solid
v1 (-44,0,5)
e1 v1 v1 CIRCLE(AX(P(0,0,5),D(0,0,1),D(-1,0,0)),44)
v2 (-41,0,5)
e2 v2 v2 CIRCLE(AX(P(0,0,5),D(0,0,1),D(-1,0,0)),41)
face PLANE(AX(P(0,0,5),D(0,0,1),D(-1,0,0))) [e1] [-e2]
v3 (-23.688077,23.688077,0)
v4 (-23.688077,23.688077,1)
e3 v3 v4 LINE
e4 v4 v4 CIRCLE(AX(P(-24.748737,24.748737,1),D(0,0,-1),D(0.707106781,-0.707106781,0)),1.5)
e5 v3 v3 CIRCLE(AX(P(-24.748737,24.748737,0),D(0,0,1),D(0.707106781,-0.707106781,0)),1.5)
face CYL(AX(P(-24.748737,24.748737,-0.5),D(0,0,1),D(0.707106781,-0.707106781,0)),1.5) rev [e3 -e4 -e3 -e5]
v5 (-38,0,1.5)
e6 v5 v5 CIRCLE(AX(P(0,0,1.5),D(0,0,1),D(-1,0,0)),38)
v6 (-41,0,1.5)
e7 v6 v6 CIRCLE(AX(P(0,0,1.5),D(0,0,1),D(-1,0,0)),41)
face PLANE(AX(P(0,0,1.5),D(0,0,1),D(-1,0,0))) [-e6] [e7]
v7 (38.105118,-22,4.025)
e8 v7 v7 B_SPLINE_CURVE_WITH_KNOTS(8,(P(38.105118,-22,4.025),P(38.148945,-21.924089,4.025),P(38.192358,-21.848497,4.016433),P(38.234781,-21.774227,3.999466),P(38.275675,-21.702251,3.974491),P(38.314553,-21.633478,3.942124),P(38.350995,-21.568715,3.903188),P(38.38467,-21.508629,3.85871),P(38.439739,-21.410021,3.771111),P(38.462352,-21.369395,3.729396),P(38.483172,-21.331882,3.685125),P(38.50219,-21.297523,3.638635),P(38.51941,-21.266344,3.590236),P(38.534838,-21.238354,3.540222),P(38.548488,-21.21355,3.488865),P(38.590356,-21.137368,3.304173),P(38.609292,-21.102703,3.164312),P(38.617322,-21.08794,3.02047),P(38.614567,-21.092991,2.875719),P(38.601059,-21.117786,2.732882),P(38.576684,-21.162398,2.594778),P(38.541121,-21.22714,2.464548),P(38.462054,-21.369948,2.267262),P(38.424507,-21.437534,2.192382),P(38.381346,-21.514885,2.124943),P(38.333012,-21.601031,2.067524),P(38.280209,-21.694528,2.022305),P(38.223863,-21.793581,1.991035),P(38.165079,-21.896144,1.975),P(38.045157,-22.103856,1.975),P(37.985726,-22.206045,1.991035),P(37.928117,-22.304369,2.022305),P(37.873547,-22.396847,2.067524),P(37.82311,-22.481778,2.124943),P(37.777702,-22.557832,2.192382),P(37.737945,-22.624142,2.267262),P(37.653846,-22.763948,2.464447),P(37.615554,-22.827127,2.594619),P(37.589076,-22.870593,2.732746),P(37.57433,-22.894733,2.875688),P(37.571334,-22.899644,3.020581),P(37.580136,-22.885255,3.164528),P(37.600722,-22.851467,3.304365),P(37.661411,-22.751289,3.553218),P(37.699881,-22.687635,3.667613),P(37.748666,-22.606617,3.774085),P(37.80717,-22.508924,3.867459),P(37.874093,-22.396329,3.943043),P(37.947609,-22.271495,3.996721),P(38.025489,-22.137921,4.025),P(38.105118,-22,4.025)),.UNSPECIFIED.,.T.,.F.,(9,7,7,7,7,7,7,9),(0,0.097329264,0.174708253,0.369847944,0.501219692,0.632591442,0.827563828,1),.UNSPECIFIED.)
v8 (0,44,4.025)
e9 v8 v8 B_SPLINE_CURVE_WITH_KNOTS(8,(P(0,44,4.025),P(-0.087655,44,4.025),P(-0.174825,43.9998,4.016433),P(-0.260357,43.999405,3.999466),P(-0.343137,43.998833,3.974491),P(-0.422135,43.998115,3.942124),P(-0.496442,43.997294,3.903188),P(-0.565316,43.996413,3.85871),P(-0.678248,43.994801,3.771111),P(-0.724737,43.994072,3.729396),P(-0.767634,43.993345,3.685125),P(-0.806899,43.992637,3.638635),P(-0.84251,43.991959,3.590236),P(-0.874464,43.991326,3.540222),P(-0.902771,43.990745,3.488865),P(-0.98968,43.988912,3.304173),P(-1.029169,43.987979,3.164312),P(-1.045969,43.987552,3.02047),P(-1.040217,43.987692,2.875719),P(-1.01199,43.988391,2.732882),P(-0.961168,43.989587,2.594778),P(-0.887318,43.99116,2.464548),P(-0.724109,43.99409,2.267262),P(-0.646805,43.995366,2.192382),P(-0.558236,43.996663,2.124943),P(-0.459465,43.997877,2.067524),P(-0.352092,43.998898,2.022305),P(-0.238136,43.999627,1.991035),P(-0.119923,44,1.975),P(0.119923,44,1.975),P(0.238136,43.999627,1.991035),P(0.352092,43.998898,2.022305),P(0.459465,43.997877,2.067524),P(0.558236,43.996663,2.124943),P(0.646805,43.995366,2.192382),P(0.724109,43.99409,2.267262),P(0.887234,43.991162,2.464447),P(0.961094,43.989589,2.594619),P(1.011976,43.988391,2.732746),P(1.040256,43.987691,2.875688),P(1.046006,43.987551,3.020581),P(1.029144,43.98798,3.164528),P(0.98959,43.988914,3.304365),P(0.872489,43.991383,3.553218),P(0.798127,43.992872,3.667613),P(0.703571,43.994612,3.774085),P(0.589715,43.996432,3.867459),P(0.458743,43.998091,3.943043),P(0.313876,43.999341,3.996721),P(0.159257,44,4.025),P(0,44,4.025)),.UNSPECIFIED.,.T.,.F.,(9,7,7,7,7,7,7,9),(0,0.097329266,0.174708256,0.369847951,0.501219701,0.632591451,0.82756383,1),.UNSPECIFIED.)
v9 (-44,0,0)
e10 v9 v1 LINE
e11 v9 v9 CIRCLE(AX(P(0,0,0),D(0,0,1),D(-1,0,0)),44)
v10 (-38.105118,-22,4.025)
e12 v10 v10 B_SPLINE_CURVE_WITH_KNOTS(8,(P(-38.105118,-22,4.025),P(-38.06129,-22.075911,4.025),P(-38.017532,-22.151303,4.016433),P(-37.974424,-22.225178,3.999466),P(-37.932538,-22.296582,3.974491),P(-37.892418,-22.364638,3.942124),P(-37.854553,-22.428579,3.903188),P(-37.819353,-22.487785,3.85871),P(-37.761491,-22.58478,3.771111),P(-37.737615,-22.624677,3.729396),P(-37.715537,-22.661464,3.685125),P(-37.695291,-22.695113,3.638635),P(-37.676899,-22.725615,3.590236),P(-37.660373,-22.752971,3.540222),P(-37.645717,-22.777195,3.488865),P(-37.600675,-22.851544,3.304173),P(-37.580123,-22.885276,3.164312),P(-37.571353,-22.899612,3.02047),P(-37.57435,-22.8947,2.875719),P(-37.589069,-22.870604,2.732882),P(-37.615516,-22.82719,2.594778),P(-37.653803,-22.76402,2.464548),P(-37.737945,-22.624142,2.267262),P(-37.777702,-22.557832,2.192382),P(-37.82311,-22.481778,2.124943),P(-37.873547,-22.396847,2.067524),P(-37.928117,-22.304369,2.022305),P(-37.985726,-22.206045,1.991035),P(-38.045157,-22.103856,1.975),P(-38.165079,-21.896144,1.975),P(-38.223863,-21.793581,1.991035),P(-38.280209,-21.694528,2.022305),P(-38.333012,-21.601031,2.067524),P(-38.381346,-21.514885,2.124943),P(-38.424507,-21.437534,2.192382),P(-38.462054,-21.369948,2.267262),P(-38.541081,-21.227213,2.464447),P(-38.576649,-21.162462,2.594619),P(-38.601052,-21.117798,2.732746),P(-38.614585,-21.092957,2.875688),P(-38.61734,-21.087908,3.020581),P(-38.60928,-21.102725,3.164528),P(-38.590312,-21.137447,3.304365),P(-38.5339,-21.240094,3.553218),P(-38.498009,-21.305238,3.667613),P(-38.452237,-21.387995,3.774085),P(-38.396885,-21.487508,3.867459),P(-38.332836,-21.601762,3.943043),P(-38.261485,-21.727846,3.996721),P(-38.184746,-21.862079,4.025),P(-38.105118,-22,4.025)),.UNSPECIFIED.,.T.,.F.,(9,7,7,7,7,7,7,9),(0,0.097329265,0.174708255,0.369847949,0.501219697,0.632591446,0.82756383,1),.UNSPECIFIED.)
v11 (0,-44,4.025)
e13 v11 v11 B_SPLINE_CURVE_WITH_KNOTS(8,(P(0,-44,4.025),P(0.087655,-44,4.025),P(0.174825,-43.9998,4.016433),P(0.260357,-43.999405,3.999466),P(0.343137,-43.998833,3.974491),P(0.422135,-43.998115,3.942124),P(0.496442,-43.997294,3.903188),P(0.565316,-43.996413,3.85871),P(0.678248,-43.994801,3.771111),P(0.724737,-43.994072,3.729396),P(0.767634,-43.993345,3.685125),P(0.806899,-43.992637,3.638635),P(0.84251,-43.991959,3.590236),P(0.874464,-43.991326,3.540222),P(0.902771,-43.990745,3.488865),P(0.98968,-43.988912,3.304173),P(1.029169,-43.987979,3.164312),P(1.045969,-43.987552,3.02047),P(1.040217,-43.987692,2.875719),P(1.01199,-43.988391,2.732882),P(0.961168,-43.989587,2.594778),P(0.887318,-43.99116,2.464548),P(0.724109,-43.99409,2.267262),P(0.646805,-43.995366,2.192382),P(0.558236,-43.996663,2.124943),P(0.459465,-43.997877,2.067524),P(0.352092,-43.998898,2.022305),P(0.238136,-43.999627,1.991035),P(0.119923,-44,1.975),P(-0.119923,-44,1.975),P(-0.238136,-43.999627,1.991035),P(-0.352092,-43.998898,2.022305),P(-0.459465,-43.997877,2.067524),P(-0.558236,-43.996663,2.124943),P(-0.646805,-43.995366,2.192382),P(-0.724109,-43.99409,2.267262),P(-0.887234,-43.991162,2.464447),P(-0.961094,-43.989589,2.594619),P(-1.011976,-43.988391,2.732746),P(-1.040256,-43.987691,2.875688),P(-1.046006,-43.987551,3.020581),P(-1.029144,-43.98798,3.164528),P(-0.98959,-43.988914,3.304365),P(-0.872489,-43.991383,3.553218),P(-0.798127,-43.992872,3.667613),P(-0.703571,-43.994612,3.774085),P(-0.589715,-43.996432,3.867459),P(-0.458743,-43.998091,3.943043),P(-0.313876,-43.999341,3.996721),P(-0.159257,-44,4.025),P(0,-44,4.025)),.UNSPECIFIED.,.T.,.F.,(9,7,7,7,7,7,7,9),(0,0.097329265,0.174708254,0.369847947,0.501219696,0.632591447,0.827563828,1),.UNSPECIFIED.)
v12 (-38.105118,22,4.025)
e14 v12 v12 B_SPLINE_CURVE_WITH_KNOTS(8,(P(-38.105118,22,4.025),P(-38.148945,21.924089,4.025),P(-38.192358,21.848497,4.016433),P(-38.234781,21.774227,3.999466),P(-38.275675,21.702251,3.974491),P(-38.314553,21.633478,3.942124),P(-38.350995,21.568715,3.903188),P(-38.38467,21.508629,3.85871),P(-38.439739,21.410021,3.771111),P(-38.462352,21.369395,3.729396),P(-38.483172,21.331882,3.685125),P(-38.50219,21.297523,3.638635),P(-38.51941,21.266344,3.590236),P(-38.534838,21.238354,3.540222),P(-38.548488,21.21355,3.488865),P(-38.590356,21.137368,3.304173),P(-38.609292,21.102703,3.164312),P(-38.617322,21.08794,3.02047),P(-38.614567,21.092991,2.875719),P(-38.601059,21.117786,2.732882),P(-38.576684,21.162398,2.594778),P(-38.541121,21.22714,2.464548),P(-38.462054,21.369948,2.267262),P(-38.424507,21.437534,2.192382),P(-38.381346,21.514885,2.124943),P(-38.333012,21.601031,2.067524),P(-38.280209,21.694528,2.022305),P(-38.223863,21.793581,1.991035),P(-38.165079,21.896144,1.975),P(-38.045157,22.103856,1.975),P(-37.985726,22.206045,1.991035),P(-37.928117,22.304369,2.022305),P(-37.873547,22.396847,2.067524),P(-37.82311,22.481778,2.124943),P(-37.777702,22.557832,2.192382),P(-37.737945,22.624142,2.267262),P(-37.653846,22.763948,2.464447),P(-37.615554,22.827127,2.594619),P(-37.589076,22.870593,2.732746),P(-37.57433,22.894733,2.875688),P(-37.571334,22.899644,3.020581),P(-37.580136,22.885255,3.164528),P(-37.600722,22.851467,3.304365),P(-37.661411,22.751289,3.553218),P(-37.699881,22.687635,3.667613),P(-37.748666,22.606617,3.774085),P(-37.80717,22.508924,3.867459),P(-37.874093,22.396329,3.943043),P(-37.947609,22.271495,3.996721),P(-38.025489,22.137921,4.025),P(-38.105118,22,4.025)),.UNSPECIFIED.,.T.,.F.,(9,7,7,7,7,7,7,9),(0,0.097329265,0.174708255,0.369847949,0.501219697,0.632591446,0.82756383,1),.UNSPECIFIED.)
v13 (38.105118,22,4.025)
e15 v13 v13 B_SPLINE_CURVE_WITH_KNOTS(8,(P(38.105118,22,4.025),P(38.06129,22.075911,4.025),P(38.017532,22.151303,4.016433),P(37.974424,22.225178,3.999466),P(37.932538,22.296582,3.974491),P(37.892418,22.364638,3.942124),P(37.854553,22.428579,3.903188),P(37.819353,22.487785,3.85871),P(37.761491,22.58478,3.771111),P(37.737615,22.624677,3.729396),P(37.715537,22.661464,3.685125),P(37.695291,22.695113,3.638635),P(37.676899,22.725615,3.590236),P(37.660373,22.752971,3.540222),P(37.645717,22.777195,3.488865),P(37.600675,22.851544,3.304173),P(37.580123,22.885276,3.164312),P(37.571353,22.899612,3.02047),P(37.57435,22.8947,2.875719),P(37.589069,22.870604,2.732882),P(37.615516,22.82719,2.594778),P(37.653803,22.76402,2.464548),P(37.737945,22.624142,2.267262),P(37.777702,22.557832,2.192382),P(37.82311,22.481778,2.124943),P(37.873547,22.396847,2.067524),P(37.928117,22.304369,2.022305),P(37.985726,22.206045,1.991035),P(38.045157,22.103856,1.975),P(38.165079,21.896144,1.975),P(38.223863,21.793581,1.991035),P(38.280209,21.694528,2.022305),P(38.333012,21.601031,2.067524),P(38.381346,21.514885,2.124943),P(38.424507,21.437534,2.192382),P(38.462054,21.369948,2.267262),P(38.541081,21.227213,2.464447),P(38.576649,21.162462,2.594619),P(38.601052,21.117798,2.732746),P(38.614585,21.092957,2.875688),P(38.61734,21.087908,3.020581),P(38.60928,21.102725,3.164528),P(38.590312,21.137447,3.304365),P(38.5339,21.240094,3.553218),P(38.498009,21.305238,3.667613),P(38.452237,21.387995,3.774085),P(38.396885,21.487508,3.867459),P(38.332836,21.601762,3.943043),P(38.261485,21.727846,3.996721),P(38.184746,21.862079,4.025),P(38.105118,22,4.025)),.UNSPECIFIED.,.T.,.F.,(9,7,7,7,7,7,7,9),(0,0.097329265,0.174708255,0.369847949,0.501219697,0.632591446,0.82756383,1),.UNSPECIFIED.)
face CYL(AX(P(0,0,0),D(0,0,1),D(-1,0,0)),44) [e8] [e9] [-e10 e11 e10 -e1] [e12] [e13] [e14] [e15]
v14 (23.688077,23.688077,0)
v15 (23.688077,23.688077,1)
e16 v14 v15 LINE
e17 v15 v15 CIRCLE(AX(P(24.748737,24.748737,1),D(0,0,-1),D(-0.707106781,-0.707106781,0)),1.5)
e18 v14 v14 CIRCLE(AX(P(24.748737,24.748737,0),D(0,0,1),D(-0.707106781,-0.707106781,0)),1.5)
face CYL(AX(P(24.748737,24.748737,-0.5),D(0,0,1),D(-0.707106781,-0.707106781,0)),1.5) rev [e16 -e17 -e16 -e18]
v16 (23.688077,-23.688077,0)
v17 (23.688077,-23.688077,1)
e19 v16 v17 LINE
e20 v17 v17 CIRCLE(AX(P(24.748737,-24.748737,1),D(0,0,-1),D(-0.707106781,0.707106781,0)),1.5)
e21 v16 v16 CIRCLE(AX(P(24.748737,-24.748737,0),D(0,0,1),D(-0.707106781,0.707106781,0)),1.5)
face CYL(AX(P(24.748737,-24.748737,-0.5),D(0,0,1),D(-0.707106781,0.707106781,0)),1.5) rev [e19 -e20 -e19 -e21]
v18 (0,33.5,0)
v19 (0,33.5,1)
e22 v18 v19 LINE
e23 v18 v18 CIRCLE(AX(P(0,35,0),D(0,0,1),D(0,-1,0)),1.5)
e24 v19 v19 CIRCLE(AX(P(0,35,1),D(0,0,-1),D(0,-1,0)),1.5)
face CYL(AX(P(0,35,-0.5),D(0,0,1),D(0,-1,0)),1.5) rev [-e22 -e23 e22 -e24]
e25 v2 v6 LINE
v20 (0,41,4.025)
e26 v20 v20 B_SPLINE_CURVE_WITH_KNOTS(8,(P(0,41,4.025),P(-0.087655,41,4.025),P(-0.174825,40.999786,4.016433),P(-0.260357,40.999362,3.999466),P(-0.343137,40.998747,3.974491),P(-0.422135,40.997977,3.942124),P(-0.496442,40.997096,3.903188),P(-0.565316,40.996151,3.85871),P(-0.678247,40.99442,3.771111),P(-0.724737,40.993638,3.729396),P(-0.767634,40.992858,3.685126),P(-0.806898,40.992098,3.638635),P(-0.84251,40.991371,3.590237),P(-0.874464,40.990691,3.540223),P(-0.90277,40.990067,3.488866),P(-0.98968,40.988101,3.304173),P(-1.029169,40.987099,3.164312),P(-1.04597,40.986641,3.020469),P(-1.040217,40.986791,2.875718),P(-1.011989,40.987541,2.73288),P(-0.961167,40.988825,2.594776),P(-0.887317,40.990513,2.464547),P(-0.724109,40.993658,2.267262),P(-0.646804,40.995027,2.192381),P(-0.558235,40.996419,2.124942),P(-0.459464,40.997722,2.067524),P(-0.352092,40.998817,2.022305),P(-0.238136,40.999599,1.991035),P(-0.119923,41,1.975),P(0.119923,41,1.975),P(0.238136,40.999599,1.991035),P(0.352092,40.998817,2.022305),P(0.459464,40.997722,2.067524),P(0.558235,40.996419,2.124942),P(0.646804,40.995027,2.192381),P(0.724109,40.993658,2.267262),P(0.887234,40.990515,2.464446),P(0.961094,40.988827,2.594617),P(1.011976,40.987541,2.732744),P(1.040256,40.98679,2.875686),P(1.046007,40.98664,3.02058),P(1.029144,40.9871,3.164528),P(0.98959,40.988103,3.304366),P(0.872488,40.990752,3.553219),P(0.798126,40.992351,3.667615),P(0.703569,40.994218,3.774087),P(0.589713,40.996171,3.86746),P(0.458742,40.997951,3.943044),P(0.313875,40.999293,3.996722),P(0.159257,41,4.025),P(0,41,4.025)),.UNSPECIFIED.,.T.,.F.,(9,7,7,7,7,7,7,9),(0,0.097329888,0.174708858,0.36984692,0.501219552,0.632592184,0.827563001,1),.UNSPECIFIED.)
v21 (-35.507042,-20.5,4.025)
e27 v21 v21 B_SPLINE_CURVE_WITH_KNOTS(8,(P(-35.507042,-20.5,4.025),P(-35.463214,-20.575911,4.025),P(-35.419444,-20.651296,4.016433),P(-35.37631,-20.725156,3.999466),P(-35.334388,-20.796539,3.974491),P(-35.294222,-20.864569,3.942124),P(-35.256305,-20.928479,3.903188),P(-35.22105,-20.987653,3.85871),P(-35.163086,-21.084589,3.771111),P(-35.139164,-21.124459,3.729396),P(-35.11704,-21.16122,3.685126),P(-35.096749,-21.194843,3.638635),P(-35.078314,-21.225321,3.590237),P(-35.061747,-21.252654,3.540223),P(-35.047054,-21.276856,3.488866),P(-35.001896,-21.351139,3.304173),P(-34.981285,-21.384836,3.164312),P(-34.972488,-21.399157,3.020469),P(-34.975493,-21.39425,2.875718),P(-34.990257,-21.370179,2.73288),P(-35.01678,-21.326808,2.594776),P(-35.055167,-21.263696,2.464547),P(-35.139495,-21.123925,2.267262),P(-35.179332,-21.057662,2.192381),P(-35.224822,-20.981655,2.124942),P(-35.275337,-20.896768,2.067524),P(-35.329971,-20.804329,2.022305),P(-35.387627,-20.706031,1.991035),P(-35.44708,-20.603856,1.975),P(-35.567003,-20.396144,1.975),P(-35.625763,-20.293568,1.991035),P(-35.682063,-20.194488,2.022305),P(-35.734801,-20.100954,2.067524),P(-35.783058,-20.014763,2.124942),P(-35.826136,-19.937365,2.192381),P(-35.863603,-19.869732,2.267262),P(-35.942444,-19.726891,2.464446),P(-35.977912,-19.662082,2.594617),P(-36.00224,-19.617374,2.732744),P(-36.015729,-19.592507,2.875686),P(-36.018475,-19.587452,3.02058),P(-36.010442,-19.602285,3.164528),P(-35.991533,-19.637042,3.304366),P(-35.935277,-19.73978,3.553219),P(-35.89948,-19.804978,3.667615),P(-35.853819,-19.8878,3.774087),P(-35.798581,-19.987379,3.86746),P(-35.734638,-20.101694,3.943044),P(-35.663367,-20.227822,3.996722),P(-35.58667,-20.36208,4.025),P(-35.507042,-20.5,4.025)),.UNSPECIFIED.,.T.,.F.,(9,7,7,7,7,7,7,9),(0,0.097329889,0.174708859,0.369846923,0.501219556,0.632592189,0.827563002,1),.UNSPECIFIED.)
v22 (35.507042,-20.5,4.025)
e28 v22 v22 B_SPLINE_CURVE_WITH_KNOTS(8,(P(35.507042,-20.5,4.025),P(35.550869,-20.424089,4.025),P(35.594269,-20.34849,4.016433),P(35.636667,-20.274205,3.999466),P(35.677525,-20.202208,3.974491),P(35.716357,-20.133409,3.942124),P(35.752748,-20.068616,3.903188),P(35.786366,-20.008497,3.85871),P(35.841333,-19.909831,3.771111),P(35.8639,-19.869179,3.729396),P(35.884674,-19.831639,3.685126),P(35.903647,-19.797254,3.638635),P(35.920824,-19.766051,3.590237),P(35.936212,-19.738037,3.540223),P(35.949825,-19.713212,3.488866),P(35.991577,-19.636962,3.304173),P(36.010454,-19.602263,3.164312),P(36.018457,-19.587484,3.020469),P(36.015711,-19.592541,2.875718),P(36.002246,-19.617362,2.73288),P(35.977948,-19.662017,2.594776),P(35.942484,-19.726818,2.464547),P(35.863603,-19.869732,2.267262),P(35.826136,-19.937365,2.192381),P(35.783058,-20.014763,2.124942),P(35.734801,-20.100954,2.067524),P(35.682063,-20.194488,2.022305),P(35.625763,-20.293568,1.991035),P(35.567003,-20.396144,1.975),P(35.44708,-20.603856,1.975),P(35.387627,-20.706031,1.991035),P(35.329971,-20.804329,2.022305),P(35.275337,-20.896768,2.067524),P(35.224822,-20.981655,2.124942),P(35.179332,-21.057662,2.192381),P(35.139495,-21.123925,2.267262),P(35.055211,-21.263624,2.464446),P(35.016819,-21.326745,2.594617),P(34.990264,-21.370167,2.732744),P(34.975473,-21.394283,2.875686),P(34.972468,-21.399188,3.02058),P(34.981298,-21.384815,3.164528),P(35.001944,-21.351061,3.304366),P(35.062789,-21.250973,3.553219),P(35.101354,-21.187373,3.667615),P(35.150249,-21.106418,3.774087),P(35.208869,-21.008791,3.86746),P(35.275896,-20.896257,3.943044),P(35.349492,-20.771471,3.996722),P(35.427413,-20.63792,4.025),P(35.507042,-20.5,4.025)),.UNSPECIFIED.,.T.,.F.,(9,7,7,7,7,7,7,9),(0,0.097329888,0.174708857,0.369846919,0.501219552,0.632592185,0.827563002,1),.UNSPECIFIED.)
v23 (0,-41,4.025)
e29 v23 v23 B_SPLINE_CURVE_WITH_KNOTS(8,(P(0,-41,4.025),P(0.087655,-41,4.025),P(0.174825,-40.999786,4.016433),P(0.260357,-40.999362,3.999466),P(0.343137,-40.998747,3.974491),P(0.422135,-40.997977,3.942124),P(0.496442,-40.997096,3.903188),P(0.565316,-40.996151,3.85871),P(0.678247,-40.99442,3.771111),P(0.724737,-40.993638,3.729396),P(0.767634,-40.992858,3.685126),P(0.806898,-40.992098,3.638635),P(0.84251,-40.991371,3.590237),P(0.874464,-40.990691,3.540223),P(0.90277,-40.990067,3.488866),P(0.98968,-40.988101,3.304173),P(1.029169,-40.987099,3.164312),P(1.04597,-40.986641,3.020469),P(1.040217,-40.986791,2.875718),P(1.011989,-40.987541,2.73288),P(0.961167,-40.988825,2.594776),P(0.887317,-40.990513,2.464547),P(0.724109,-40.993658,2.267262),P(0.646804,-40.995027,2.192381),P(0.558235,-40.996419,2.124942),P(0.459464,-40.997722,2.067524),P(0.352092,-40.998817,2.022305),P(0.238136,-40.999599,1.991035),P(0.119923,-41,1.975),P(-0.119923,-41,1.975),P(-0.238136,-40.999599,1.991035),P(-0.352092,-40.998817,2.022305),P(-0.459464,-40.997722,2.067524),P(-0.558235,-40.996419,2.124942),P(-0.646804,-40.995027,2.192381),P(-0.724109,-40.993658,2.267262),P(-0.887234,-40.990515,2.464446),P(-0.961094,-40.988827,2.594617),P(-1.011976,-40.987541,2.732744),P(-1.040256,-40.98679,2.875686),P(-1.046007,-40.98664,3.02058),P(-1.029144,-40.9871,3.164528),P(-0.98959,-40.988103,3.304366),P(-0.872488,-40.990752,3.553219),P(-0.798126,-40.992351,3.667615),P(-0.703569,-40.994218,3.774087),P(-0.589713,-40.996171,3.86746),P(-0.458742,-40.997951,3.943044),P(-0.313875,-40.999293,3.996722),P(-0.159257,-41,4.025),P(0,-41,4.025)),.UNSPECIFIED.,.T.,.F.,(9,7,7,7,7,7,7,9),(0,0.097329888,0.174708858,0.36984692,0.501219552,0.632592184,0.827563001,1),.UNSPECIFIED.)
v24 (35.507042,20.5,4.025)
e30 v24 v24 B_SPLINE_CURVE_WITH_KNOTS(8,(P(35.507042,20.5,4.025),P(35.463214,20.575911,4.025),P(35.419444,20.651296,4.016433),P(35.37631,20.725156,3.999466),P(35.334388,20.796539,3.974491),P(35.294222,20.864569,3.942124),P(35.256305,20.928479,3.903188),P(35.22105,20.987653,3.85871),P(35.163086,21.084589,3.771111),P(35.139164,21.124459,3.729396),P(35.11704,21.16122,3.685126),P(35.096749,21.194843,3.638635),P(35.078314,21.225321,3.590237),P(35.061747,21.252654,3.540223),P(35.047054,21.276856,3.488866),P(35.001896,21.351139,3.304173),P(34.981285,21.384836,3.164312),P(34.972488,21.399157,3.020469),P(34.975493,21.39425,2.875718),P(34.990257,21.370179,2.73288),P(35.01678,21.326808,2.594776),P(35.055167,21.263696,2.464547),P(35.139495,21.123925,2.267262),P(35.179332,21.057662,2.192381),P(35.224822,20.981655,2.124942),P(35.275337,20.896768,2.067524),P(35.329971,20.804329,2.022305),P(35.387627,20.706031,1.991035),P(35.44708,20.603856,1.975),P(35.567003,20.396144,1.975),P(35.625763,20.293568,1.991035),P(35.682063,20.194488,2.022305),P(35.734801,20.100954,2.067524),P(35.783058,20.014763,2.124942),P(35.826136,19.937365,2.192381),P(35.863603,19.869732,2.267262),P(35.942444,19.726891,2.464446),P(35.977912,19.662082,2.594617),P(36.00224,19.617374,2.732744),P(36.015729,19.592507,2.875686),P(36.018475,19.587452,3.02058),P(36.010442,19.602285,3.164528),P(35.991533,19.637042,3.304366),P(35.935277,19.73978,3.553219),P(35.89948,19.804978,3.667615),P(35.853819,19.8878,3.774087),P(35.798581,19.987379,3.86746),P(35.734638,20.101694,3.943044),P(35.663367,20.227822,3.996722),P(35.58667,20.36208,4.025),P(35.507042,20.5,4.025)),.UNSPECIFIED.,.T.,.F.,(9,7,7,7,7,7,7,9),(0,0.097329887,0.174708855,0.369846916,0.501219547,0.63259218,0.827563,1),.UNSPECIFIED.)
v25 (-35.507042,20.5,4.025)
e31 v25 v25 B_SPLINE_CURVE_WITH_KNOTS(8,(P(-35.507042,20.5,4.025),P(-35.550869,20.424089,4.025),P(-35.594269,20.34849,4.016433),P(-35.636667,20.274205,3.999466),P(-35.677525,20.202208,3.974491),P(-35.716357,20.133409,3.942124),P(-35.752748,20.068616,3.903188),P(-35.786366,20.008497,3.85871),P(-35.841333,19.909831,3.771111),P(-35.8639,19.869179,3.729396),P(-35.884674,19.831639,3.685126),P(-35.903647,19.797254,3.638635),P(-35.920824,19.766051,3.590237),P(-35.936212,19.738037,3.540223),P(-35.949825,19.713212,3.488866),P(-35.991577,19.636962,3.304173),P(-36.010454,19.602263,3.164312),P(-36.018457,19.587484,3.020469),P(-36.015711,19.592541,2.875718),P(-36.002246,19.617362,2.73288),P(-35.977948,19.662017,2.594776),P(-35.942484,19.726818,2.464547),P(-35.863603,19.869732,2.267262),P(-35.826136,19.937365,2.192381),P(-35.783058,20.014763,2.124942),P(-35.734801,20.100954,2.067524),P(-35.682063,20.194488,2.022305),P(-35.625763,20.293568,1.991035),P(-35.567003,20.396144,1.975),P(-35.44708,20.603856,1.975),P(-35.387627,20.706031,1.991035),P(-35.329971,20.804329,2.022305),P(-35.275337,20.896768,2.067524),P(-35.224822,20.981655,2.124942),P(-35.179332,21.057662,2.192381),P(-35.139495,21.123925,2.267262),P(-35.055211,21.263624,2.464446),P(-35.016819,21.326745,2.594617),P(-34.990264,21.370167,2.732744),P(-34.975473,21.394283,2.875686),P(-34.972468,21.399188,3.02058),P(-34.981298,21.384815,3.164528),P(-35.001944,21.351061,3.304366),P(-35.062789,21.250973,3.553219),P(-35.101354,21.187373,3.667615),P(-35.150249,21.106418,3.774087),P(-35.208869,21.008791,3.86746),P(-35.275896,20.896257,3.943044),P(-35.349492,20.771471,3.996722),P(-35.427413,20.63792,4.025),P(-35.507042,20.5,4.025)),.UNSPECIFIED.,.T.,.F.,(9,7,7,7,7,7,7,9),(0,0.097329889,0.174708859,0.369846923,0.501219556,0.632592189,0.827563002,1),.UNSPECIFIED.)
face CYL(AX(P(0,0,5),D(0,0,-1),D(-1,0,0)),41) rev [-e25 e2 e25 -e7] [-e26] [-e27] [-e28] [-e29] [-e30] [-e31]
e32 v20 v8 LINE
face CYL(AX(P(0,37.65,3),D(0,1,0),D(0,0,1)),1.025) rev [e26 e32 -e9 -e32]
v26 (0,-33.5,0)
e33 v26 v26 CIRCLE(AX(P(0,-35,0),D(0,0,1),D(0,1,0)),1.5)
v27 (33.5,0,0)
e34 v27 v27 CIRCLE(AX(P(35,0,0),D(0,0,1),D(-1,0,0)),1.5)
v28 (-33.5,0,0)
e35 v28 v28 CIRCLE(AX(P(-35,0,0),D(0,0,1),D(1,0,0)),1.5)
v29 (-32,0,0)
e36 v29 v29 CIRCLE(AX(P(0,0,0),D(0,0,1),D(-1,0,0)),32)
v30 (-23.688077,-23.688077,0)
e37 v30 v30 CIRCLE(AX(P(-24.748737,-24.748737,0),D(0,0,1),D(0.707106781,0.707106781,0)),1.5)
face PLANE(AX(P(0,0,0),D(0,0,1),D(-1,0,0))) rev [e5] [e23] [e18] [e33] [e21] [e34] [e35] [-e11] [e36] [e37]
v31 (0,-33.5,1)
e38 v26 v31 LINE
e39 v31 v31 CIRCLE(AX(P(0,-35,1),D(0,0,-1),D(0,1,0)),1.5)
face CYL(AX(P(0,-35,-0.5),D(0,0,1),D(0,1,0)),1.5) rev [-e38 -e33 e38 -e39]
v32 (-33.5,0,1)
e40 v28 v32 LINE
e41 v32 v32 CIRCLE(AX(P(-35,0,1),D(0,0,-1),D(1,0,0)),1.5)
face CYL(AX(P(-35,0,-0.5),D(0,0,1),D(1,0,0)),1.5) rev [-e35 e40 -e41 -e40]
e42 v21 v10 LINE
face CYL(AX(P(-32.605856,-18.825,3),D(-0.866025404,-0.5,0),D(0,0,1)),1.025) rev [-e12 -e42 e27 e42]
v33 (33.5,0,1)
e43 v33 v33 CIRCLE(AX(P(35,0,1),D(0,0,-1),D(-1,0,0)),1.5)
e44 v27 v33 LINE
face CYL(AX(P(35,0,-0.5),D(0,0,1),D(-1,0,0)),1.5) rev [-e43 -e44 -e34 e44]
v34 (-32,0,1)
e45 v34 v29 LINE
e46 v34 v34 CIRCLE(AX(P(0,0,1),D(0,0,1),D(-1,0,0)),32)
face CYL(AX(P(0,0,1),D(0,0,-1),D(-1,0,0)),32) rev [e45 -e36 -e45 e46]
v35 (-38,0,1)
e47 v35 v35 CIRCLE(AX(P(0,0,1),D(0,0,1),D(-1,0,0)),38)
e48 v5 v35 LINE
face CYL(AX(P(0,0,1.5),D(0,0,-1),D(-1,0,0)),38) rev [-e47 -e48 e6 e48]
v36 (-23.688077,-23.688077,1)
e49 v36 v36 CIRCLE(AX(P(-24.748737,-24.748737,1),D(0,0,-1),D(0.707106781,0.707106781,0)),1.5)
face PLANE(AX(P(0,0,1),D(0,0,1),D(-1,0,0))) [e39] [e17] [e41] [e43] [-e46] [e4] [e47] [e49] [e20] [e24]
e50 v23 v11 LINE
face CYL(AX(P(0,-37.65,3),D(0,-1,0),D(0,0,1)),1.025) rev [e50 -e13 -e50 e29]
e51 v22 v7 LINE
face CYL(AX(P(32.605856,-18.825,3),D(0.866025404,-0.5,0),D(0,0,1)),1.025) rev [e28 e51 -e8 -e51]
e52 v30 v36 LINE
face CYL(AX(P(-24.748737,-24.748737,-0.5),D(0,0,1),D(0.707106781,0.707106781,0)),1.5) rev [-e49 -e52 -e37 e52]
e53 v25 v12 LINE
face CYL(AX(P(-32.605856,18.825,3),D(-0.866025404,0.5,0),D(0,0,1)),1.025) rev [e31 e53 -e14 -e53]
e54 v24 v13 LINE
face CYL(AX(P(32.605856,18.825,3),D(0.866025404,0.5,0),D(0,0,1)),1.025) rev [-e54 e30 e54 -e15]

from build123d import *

# Parameters (mm, degrees)
CIRPATTERN1_COUNT = 8
CIRPATTERN2_COUNT = 6


with BuildPart() as part:
    # Sketch1 → Revolve1 (revolve)
    with BuildSketch(Plane(origin=(0, 0, 0), x_dir=(0, 0, -1), z_dir=(1, 0, 0)), mode=Mode.PRIVATE) as revolve1_sk:
        Polygon((0, 32), (0, 44), (-5, 44), (-5, 41), (-1.5, 41), (-1.5, 38), (-1, 38), (-1, 32), align=None)
    revolve(revolve1_sk.sketch.rotate(Axis((0, 0, 0), (0, 0, 1)), 90), axis=Axis((0, 0, 0), (0, 0, 1)))

    # Sketch2 → Ø3.0 (3) Diameter Hole1 (revolve, cut)
    with BuildSketch(Plane(origin=(0, 35, 1), x_dir=(0, -1, 0), z_dir=(1, 0, 0))):
        Polygon((0, 0), (0, 2.401290929), (1.5, 1.5), (1.5, 0), align=None)
    f_3_0_3_diameter_hole1 = revolve(axis=Axis((0, 35, 7.35), (0, 0, -1)), mode=Mode.SUBTRACT)

    # CirPattern1: Ø3.0 (3) Diameter Hole1 ×8 about axis
    cirpattern1_axis = Axis((0, 0, 0), (0, 0, 1))
    for i in range(1, CIRPATTERN1_COUNT):
        add(f_3_0_3_diameter_hole1.rotate(cirpattern1_axis, i * 360 / CIRPATTERN1_COUNT), mode=Mode.SUBTRACT)

    # Sketch4 → M2.5x0.45 Tapped Hole1 (revolve, cut)
    with BuildSketch(Plane(origin=(0, 44, 3), x_dir=(0, 0, 1), z_dir=(1, 0, 0))):
        Polygon((0, 0), (0, 6.965882135), (1.025, 6.35), (1.025, 0), align=None)
    m2_5x0_45_tapped_hole1 = revolve(axis=Axis((0, 50.35, 3), (0, -1, 0)), mode=Mode.SUBTRACT)

    # CirPattern2: M2.5x0.45 Tapped Hole1 ×6 about axis
    cirpattern2_axis = Axis((0, 0, 5.25), (0, 0, -1))
    for i in range(1, CIRPATTERN2_COUNT):
        add(m2_5x0_45_tapped_hole1.rotate(cirpattern2_axis, i * 360 / CIRPATTERN2_COUNT), mode=Mode.SUBTRACT)


solid = part.part
